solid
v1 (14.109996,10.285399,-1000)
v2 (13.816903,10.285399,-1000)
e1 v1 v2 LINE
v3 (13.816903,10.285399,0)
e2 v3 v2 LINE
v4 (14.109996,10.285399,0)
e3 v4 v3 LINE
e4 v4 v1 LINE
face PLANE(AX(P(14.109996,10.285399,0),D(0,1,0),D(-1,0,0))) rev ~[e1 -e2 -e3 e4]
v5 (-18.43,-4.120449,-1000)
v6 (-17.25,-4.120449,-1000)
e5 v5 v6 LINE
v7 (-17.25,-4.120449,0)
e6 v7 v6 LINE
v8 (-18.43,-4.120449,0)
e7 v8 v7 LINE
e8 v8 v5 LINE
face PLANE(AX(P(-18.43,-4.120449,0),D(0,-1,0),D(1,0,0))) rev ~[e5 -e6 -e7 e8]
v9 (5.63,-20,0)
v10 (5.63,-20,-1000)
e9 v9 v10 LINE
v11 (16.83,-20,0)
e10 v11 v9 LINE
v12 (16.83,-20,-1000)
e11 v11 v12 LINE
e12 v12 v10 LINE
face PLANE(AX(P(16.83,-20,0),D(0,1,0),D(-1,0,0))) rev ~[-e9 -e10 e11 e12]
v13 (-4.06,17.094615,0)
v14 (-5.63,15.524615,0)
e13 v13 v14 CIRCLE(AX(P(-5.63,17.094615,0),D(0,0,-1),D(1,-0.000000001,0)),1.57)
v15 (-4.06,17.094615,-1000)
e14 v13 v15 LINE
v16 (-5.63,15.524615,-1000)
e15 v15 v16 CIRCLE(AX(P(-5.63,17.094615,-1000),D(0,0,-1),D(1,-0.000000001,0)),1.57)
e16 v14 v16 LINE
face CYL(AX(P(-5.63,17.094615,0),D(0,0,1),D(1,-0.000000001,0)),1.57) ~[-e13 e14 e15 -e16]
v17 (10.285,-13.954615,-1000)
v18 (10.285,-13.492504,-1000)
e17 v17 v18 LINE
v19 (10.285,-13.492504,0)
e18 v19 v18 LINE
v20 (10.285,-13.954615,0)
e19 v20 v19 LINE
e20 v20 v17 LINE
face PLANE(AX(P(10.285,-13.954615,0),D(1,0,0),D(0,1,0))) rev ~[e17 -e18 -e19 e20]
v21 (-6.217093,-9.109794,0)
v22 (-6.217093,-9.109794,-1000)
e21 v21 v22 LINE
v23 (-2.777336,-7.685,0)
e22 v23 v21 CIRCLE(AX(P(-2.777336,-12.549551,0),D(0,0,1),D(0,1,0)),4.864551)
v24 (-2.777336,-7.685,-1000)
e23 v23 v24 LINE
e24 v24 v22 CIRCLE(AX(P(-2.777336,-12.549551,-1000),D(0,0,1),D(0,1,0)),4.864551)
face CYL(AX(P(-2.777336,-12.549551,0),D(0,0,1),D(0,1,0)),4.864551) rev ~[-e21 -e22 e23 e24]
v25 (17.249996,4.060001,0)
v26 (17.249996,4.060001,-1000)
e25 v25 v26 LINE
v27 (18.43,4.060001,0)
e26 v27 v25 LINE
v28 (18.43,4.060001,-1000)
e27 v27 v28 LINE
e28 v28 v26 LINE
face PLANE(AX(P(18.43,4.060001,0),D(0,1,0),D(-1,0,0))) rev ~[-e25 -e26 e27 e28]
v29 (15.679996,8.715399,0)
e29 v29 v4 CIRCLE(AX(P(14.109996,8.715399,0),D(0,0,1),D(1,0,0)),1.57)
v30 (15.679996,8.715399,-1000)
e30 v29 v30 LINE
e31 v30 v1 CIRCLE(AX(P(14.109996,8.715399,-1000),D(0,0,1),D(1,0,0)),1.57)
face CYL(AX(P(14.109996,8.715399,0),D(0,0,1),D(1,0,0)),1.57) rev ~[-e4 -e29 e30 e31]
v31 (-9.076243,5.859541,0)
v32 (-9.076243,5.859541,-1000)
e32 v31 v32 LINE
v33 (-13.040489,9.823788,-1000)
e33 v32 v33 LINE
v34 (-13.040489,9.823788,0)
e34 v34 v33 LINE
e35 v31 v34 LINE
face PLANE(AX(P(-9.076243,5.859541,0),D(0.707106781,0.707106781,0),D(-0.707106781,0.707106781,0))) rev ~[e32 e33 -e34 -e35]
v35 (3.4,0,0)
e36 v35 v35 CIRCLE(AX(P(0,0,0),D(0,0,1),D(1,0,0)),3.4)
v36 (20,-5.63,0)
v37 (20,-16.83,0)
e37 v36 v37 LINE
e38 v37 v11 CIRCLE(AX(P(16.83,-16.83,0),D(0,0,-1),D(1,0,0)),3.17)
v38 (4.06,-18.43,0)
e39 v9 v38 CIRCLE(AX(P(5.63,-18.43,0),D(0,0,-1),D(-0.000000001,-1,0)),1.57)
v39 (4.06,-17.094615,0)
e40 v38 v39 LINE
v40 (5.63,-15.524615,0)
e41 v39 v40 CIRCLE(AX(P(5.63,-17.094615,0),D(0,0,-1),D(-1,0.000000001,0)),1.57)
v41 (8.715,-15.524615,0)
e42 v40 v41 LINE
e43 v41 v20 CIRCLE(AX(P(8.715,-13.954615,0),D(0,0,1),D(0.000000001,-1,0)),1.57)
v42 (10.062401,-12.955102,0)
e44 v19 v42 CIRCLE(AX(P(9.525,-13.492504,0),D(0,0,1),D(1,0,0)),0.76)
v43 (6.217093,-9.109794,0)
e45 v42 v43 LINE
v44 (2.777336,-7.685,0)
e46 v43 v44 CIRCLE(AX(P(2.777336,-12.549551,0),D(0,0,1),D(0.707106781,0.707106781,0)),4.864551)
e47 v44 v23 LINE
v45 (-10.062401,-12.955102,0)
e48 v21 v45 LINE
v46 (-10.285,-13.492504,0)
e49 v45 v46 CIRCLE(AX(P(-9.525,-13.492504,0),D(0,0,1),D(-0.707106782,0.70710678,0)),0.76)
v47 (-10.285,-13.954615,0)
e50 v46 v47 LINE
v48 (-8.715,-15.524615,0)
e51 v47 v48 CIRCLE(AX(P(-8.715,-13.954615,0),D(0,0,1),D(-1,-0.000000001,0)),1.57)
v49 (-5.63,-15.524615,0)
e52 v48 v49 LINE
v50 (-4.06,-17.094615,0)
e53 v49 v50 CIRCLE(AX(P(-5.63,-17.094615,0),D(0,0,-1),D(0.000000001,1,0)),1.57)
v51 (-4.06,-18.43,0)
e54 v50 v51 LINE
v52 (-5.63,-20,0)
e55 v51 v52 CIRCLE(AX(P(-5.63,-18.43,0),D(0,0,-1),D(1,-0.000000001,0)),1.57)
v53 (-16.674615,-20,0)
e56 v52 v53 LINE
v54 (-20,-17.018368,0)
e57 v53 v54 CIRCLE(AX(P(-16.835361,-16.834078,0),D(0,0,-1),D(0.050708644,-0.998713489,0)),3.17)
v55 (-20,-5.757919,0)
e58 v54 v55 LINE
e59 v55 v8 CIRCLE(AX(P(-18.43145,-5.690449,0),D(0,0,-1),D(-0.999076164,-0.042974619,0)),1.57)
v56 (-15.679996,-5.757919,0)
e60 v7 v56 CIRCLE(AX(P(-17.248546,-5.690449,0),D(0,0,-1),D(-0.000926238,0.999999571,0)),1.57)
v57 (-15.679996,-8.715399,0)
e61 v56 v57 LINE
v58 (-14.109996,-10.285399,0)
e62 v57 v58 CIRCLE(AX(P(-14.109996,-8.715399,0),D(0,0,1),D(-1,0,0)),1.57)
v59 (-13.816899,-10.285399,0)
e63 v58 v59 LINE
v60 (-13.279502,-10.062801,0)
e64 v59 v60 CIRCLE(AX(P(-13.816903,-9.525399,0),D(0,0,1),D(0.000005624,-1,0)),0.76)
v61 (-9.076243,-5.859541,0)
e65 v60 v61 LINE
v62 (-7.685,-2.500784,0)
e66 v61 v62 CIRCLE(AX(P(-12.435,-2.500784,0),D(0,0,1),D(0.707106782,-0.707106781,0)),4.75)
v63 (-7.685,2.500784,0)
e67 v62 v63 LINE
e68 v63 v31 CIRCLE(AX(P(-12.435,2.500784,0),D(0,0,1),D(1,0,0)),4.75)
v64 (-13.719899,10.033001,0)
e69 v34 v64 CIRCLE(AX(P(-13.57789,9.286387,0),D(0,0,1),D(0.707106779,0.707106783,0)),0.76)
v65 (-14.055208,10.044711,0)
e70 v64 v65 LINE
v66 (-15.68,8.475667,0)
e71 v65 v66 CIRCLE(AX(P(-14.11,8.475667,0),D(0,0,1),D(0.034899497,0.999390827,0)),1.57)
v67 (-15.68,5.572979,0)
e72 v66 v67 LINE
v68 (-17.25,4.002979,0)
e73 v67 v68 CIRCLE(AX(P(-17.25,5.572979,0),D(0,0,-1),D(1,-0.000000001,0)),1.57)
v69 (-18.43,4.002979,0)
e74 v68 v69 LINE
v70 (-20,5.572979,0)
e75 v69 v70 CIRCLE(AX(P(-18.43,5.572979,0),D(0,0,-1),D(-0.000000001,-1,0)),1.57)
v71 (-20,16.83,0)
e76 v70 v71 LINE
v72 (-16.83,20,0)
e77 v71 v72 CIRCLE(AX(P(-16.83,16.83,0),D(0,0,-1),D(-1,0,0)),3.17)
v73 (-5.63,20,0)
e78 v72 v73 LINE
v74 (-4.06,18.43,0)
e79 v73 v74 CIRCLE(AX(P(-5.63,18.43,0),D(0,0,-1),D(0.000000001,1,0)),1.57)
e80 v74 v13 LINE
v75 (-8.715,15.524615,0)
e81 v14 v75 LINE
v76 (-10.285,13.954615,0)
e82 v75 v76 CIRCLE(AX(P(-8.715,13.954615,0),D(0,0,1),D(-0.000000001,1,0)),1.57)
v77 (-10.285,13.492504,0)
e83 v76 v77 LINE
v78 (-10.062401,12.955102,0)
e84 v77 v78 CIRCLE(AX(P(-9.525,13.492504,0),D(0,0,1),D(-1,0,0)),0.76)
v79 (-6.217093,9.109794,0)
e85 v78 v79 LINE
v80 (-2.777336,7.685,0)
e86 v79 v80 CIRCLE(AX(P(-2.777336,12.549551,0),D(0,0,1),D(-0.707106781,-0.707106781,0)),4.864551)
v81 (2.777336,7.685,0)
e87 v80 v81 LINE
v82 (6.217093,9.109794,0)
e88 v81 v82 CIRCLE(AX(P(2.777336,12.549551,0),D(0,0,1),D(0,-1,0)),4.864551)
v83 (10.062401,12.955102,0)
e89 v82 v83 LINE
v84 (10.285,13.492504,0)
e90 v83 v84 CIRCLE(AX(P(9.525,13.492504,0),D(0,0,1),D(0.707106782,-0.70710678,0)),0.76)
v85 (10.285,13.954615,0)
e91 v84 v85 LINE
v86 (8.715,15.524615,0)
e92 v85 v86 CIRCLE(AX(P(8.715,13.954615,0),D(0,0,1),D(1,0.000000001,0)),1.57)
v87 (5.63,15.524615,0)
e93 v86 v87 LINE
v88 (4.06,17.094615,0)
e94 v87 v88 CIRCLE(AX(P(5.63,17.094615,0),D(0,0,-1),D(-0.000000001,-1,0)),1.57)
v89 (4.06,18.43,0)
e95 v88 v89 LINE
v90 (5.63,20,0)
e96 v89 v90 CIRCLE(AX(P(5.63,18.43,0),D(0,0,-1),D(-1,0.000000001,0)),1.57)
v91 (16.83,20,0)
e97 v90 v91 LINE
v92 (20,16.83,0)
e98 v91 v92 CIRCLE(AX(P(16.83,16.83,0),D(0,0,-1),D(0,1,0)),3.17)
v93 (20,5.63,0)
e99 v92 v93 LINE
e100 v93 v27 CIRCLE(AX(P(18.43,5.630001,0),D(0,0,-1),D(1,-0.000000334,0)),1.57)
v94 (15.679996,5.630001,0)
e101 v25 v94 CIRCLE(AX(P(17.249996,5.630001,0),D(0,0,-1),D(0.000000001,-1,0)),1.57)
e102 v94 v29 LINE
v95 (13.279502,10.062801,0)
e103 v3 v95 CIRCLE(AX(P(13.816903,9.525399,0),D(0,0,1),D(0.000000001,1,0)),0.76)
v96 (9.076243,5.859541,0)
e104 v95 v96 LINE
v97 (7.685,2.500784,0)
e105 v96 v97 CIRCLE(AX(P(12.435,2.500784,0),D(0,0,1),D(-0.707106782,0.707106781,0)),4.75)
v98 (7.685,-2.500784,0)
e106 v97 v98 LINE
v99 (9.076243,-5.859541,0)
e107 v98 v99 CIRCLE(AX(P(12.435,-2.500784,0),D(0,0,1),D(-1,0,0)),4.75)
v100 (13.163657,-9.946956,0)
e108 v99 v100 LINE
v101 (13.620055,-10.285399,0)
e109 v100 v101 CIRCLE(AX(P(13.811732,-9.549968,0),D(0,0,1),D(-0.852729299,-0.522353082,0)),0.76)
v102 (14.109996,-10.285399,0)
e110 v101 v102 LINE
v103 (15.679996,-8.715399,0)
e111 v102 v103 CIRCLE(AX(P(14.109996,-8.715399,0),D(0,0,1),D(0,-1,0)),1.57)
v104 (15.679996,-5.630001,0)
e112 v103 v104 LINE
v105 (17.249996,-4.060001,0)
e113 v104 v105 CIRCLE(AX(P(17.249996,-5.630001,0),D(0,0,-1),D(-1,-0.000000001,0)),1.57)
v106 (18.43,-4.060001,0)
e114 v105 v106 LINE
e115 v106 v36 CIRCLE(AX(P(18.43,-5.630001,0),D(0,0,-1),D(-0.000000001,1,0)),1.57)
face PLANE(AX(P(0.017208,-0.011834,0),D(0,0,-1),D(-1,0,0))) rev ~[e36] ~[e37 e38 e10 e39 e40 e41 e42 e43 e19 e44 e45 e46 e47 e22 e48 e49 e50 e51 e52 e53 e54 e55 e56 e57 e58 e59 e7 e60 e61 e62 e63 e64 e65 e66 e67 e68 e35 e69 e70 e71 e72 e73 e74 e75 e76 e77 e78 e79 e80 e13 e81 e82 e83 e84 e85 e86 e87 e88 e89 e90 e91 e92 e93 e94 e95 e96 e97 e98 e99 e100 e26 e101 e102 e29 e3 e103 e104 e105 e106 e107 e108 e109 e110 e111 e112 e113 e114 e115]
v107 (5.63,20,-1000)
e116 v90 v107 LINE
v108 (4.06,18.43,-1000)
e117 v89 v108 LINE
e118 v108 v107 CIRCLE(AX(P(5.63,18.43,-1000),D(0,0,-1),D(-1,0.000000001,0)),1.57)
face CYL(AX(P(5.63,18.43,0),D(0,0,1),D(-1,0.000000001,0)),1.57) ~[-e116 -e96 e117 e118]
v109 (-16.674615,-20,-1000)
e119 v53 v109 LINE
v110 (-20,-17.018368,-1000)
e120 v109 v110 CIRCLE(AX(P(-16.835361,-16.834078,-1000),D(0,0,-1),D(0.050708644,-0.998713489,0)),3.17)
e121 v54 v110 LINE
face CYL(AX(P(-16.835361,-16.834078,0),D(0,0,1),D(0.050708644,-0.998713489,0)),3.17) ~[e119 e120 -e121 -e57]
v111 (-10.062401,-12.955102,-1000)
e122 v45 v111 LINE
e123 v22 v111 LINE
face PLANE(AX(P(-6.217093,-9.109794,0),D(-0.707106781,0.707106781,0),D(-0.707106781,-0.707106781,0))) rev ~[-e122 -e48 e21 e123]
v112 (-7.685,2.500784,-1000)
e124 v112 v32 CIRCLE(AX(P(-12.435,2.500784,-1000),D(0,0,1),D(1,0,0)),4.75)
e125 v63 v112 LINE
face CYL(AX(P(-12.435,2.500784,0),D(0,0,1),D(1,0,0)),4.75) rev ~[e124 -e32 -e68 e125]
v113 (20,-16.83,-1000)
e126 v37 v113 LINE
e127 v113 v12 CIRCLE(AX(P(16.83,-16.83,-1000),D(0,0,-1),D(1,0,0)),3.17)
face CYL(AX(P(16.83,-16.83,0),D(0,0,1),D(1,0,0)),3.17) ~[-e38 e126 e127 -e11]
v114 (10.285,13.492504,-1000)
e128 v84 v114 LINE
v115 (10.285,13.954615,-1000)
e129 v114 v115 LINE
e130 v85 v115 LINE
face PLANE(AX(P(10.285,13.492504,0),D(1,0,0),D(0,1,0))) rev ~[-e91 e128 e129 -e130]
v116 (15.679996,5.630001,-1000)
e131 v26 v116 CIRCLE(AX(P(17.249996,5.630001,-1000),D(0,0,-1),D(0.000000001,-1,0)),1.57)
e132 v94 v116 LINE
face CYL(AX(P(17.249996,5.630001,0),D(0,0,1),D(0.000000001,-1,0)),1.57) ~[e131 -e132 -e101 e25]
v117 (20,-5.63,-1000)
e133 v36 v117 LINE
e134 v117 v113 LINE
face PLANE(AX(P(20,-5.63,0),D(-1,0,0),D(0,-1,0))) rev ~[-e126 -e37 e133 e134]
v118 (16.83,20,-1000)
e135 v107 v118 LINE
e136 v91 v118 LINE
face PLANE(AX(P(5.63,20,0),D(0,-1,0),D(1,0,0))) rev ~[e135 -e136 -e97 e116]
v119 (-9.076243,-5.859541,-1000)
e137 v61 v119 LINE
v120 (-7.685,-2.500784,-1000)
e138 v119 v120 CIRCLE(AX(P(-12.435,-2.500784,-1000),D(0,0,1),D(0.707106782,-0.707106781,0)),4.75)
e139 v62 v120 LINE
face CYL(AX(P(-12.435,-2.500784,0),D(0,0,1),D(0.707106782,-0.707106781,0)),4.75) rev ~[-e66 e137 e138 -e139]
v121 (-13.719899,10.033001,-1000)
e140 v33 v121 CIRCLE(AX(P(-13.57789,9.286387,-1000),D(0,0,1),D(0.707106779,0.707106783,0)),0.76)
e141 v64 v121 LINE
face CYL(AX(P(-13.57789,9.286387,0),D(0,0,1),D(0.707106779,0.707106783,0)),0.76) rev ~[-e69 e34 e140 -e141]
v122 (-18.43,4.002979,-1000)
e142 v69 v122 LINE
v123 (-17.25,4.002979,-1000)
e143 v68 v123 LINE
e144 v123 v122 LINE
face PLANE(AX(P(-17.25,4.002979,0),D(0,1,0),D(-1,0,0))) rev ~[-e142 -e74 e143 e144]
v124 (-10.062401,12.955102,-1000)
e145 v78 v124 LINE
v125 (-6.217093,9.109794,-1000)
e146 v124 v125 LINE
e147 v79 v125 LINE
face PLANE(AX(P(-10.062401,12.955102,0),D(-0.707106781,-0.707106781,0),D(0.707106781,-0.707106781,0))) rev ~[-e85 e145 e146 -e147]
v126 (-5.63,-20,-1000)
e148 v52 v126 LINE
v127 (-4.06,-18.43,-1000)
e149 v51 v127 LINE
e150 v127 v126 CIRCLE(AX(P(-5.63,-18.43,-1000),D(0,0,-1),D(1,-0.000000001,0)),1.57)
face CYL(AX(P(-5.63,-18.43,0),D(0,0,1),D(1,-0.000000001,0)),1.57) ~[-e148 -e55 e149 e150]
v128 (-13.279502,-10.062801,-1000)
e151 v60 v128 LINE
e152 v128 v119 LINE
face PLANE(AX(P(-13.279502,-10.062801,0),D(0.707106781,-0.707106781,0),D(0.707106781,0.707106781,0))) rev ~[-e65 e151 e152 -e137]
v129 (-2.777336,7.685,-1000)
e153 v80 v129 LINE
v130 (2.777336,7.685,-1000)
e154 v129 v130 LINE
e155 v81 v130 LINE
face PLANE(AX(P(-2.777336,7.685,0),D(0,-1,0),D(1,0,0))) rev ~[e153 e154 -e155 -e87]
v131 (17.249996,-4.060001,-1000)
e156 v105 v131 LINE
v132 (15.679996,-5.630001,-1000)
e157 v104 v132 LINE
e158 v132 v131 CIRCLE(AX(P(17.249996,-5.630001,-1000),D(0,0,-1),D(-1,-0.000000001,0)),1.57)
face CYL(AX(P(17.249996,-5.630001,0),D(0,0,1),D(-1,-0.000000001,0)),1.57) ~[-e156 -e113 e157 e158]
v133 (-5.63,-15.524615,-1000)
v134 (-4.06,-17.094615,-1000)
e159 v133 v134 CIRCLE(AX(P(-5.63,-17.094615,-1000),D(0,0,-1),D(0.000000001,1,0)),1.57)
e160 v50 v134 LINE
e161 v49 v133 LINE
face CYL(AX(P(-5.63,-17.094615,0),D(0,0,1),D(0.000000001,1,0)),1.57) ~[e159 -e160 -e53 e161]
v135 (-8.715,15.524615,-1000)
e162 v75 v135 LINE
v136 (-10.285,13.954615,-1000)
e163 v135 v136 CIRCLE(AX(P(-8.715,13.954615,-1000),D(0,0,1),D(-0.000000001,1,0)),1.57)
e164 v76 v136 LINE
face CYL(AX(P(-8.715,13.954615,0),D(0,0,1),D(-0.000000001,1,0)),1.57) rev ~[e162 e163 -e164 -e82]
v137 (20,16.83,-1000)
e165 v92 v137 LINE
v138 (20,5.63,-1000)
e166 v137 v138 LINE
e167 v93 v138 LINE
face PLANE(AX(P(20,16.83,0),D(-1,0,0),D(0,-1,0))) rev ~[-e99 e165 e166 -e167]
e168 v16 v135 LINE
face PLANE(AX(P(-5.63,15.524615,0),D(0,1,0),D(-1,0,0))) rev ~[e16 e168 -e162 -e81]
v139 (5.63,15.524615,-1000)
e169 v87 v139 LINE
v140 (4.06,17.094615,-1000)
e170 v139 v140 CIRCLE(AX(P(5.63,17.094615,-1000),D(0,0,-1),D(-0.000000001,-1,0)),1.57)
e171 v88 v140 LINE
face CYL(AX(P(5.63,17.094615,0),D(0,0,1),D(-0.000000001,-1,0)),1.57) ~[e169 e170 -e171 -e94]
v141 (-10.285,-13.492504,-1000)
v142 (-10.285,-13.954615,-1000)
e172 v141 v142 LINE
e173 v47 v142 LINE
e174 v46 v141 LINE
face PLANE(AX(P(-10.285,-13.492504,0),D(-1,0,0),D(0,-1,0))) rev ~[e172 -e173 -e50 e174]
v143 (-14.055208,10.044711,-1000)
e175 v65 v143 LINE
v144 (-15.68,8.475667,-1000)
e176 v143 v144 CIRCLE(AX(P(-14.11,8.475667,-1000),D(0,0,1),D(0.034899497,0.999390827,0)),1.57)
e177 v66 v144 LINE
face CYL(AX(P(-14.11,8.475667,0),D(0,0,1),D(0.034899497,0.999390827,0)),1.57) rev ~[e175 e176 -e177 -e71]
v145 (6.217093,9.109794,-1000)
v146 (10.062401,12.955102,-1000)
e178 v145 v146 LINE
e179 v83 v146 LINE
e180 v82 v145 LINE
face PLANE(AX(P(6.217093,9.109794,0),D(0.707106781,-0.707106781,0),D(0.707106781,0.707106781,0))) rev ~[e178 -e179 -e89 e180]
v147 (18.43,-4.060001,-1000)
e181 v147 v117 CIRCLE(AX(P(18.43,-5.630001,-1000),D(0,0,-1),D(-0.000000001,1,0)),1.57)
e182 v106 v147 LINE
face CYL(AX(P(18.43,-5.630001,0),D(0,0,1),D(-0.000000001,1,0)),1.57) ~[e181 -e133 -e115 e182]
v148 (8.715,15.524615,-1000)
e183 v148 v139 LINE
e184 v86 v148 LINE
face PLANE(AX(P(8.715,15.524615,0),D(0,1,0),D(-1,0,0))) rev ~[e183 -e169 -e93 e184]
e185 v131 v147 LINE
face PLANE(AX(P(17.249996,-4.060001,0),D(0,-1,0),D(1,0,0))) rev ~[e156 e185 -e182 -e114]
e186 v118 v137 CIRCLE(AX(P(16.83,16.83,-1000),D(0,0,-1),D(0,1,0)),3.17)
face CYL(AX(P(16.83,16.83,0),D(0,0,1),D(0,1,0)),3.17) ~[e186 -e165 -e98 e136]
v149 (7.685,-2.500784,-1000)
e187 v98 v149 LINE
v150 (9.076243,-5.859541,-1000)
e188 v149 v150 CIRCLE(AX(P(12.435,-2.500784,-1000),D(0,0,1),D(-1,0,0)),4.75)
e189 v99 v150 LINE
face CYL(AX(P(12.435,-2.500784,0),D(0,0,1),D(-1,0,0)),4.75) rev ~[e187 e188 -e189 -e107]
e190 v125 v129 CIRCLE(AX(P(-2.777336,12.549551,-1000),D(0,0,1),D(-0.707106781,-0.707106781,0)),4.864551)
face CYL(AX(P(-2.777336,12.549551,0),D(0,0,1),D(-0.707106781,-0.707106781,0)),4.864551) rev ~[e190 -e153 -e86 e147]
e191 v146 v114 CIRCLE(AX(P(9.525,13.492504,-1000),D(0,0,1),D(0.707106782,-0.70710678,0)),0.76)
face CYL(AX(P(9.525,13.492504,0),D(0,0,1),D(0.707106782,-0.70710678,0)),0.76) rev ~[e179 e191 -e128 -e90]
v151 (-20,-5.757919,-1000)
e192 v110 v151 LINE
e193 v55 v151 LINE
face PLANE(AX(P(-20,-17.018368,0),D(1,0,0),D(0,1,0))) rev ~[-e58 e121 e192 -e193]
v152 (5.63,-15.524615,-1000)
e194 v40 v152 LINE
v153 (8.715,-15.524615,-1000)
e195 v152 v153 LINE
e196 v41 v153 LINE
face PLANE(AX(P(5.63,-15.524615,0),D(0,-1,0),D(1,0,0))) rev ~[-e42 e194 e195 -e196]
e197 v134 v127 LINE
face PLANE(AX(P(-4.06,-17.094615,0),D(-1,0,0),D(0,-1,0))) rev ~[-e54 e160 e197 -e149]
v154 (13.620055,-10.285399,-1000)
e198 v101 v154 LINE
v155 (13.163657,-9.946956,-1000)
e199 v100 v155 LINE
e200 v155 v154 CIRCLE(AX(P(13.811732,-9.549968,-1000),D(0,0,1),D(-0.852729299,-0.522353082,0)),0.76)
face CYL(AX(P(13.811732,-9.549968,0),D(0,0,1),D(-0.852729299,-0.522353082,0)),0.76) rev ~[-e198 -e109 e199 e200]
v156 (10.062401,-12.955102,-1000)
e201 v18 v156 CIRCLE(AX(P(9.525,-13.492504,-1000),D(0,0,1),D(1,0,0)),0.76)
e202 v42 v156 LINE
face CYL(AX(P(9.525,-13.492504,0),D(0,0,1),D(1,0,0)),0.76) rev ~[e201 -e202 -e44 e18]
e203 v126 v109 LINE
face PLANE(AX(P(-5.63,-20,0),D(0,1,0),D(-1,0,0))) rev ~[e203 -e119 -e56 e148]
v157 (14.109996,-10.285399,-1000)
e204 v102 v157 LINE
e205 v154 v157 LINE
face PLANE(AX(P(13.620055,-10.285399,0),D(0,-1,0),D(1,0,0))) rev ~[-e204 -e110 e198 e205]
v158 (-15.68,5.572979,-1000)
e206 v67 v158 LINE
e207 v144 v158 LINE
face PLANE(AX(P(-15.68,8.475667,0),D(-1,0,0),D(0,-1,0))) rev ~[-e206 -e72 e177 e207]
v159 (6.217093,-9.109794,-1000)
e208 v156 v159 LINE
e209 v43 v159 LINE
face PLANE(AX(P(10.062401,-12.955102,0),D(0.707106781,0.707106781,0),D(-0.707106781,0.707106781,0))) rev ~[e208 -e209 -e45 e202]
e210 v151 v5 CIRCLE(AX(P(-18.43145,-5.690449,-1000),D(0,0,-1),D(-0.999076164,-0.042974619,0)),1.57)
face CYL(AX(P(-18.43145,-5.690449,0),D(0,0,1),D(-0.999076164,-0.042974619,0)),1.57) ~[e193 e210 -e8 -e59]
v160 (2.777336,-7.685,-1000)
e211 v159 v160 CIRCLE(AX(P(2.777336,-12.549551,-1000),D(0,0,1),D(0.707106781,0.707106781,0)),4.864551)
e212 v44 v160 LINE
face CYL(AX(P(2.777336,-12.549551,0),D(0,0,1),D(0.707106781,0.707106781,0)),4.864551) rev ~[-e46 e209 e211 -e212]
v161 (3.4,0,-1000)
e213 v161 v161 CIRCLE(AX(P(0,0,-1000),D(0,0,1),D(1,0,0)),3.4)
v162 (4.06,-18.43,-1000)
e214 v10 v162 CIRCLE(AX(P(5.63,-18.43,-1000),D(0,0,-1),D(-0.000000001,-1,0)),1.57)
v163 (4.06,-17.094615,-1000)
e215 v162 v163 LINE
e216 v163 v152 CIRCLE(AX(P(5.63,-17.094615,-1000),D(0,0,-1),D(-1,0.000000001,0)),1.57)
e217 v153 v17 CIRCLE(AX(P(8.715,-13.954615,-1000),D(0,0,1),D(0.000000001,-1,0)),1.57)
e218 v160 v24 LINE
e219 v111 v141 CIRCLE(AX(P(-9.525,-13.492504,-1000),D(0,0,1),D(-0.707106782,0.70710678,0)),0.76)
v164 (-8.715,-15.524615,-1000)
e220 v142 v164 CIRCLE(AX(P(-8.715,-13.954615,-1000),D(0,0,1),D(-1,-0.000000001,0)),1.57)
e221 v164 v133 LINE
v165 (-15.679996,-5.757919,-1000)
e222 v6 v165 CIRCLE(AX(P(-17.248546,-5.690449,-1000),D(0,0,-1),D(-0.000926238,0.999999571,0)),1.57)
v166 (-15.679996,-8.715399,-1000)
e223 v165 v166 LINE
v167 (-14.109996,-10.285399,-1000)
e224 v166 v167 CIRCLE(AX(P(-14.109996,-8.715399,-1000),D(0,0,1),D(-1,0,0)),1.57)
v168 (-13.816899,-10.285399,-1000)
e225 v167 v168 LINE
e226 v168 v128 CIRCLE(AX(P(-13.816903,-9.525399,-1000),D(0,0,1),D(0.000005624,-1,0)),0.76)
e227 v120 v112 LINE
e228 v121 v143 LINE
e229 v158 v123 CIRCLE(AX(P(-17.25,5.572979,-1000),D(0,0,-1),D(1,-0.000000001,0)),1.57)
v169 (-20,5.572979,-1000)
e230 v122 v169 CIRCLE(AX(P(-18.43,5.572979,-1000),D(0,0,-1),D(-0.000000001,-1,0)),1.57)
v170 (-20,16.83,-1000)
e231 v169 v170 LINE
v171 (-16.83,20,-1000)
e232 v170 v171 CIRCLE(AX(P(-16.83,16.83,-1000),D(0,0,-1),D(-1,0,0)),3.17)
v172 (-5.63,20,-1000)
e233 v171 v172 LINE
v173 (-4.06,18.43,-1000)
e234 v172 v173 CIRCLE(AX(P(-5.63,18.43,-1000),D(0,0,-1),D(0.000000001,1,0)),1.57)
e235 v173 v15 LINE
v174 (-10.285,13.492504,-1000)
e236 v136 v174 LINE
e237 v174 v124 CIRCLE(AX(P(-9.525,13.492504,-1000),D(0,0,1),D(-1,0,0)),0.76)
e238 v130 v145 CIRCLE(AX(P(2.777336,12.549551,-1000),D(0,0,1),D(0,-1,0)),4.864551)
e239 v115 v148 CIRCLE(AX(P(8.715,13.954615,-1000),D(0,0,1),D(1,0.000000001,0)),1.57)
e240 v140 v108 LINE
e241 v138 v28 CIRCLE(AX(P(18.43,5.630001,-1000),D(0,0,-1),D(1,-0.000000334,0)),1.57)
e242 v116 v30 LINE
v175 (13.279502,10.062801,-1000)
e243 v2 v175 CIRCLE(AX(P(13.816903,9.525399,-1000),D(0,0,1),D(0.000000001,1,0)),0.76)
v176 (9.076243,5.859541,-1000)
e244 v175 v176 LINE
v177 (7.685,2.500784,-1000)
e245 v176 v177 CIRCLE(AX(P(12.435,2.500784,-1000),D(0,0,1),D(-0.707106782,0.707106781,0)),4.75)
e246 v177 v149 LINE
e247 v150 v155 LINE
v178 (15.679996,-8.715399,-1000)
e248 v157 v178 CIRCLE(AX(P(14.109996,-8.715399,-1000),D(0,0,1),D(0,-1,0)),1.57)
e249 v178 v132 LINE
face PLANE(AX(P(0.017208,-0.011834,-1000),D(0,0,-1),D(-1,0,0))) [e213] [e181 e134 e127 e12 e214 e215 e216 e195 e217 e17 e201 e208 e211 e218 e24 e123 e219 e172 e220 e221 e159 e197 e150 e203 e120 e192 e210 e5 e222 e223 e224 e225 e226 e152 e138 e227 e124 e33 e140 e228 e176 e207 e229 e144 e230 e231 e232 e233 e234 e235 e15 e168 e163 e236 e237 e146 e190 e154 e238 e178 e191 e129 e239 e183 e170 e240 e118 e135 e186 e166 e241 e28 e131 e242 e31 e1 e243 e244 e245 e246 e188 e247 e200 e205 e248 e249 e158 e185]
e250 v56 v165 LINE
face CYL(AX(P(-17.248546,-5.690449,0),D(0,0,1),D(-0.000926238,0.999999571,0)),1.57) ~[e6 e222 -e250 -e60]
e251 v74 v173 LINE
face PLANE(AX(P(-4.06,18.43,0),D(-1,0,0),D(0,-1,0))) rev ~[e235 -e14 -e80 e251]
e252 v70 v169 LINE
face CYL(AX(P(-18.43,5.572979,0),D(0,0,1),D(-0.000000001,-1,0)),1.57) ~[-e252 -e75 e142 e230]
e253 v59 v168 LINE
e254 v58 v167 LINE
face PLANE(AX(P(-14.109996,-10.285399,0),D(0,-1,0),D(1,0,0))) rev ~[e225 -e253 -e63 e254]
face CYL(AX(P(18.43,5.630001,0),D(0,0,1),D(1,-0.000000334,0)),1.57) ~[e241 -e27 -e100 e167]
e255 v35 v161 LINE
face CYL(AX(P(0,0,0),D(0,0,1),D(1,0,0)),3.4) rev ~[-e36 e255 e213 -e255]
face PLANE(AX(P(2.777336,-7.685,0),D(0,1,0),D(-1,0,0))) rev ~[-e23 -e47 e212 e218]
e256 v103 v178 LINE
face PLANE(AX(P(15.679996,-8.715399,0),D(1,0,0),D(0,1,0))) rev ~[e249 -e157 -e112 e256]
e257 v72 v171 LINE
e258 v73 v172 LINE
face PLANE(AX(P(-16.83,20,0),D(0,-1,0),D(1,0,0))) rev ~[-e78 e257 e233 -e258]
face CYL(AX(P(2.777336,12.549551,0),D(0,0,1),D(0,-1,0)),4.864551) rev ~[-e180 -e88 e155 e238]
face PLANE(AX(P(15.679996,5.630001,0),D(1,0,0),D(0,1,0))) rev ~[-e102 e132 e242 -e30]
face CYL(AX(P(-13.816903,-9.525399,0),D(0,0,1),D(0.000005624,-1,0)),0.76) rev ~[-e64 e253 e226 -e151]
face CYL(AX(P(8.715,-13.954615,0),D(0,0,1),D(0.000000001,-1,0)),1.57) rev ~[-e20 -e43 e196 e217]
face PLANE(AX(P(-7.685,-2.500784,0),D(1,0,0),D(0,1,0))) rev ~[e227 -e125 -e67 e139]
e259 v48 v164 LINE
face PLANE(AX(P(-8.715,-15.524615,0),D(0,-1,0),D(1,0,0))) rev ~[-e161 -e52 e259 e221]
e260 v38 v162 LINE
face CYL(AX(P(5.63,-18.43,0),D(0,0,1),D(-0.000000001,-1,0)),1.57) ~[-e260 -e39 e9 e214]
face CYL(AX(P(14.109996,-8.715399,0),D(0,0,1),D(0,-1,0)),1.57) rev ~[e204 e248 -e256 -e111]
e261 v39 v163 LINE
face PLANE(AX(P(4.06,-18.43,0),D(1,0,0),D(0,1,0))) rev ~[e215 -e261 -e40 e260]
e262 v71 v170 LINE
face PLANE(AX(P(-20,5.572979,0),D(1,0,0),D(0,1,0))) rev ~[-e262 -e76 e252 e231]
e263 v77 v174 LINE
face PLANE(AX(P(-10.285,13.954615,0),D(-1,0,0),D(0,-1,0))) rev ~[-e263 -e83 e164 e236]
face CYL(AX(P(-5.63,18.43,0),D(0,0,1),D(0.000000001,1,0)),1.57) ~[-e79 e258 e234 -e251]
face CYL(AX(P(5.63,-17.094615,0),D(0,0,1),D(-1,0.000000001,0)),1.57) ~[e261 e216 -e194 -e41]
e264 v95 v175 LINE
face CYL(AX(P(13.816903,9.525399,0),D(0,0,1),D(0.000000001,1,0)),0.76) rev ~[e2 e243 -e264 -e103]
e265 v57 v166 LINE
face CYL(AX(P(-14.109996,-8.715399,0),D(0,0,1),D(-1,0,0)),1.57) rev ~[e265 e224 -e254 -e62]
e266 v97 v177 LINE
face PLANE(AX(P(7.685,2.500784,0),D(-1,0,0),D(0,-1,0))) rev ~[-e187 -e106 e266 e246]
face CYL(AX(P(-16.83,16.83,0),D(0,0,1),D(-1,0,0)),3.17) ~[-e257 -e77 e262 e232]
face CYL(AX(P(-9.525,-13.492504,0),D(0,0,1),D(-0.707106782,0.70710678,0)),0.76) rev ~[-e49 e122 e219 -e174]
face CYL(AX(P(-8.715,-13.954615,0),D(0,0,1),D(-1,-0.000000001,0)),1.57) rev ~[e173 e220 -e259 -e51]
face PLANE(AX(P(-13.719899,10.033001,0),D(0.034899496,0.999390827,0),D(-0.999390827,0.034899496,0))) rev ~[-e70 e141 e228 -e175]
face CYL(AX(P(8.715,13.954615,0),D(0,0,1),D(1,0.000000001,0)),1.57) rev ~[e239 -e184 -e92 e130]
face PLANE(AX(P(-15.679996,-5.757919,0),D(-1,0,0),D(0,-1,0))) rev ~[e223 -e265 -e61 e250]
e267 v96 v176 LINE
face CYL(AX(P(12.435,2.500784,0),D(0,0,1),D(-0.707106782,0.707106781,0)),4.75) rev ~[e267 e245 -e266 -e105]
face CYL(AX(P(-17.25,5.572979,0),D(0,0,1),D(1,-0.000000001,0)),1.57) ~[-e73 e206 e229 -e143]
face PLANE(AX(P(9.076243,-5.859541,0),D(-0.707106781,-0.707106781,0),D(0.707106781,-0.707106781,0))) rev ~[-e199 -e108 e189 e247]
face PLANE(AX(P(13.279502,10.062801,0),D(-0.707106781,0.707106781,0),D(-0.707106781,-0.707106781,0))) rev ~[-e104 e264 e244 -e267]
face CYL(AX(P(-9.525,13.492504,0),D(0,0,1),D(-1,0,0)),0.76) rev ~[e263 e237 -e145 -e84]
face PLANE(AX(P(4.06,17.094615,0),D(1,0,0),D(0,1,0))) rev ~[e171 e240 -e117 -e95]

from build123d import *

# Parameters (mm, degrees)
SKETCH1_R      = 3.4
EXTRUDE1_DEPTH = 1000


with BuildPart() as part:
    # Sketch1 → Extrude1 (new body)
    with BuildSketch(Plane.XY):
        with BuildLine():
            Line((-8.715, -15.524615034), (-5.63, -15.524615034))
            ThreePointArc((-5.63, -15.524615034), (-4.519842354, -15.984457388), (-4.06, -17.094615034))
            Line((-4.06, -17.094615034), (-4.06, -18.43))
            ThreePointArc((-4.06, -18.43), (-4.519842354, -19.540157646), (-5.63, -20))
            Line((-5.63, -20), (-16.674615034, -20))
            ThreePointArc((-16.674615034, -20), (-18.951578385, -19.194274381), (-20, -17.018368134))
            Line((-20, -17.018368134), (-20, -5.757918808))
            ThreePointArc((-20, -5.757918808), (-19.564709668, -4.603883664), (-18.43, -4.120449326))
            Line((-18.43, -4.120449326), (-17.25, -4.120449326))
            ThreePointArc((-17.25, -4.120449326), (-16.115287682, -4.60388249), (-15.67999625, -5.757919334))
            Line((-15.67999625, -5.757919334), (-15.67999625, -8.715399492))
            ThreePointArc((-15.67999625, -8.715399492), (-15.220153896, -9.825557139), (-14.10999625, -10.285399492))
            Line((-14.10999625, -10.285399492), (-13.816898819, -10.285399492))
            ThreePointArc((-13.816898819, -10.285399492), (-13.526061711, -10.227547119), (-13.279501941, -10.062800646))
            Line((-13.279501941, -10.062800646), (-9.076242789, -5.859541495))
            ThreePointArc((-9.076242789, -5.859541495), (-8.046572221, -4.318530588), (-7.685, -2.500784284))
            Line((-7.685, -2.500784284), (-7.685, 2.500784284))
            ThreePointArc((-7.685, 2.500784284), (-8.046572221, 4.318530588), (-9.076242789, 5.859541495))
            Line((-9.076242789, 5.859541495), (-13.040489136, 9.823787841))
            ThreePointArc((-13.040489136, 9.823787841), (-13.354224618, 10.012729352), (-13.71989919, 10.033001362))
            Line((-13.71989919, 10.033001362), (-14.05520779, 10.044710596))
            ThreePointArc((-14.05520779, 10.044710596), (-15.200613642, 9.605030484), (-15.68, 8.475666998))
            Line((-15.68, 8.475666998), (-15.68, 5.572979049))
            ThreePointArc((-15.68, 5.572979049), (-16.139842354, 4.462821403), (-17.25, 4.002979049))
            Line((-17.25, 4.002979049), (-18.43, 4.002979049))
            ThreePointArc((-18.43, 4.002979049), (-19.540157646, 4.462821403), (-20, 5.572979049))
            Line((-20, 5.572979049), (-20, 13.004526564))
            Line((-20, 13.004526564), (-20, 16.83))
            ThreePointArc((-20, 16.83), (-19.071528496, 19.071528496), (-16.83, 20))
            Line((-16.83, 20), (-5.63, 20))
            ThreePointArc((-5.63, 20), (-4.519842354, 19.540157646), (-4.06, 18.43))
            Line((-4.06, 18.43), (-4.06, 17.094615034))
            ThreePointArc((-4.06, 17.094615034), (-4.519842354, 15.984457388), (-5.63, 15.524615034))
            Line((-5.63, 15.524615034), (-8.715, 15.524615034))
            ThreePointArc((-8.715, 15.524615034), (-9.825157646, 15.06477268), (-10.285, 13.954615034))
            Line((-10.285, 13.954615034), (-10.285, 13.492503602))
            ThreePointArc((-10.285, 13.492503602), (-10.227148445, 13.201664194), (-10.062401154, 12.955102448))
            Line((-10.062401154, 12.955102448), (-6.217092793, 9.109794088))
            ThreePointArc((-6.217092793, 9.109794088), (-4.63891877, 8.055291919), (-2.777335583, 7.685))
            Line((-2.777335583, 7.685), (2.777335583, 7.685))
            ThreePointArc((2.777335583, 7.685), (4.63891877, 8.055291919), (6.217092793, 9.109794088))
            Line((6.217092793, 9.109794088), (10.062401154, 12.955102448))
            ThreePointArc((10.062401154, 12.955102448), (10.227148445, 13.201664194), (10.285, 13.492503602))
            Line((10.285, 13.492503602), (10.285, 13.954615034))
            ThreePointArc((10.285, 13.954615034), (9.825157646, 15.06477268), (8.715, 15.524615034))
            Line((8.715, 15.524615034), (5.63, 15.524615034))
            ThreePointArc((5.63, 15.524615034), (4.519842354, 15.984457388), (4.06, 17.094615034))
            Line((4.06, 17.094615034), (4.06, 18.43))
            ThreePointArc((4.06, 18.43), (4.519842354, 19.540157646), (5.63, 20))
            Line((5.63, 20), (12.979635074, 20))
            Line((12.979635074, 20), (16.83, 20))
            ThreePointArc((16.83, 20), (19.071528496, 19.071528496), (20, 16.83))
            Line((20, 16.83), (20, 13.001098436))
            Line((20, 13.001098436), (20, 5.63))
            ThreePointArc((20, 5.63), (19.540157461, 4.519842693), (18.43, 4.060000526))
            Line((18.43, 4.060000526), (17.24999625, 4.060000526))
            ThreePointArc((17.24999625, 4.060000526), (16.139838603, 4.519842879), (15.67999625, 5.630000526))
            Line((15.67999625, 5.630000526), (15.67999625, 8.715399492))
            ThreePointArc((15.67999625, 8.715399492), (15.220153896, 9.825557139), (14.10999625, 10.285399492))
            Line((14.10999625, 10.285399492), (13.816903094, 10.285399492))
            ThreePointArc((13.816903094, 10.285399492), (13.526063686, 10.227547937), (13.279501941, 10.062800646))
            Line((13.279501941, 10.062800646), (9.076242789, 5.859541495))
            ThreePointArc((9.076242789, 5.859541495), (8.046572221, 4.318530588), (7.685, 2.500784284))
            Line((7.685, 2.500784284), (7.685, -2.500784284))
            ThreePointArc((7.685, -2.500784284), (8.046572221, -4.318530588), (9.076242789, -5.859541495))
            Line((9.076242789, -5.859541495), (13.163657296, -9.946956002))
            ThreePointArc((13.163657296, -9.946956002), (13.35903797, -10.160433474), (13.6200547, -10.285399492))
            Line((13.6200547, -10.285399492), (14.10999625, -10.285399492))
            ThreePointArc((14.10999625, -10.285399492), (15.220153896, -9.825557139), (15.67999625, -8.715399492))
            Line((15.67999625, -8.715399492), (15.67999625, -5.630000526))
            ThreePointArc((15.67999625, -5.630000526), (16.139838603, -4.519842879), (17.24999625, -4.060000526))
            Line((17.24999625, -4.060000526), (18.43, -4.060000526))
            ThreePointArc((18.43, -4.060000526), (19.540157461, -4.519842693), (20, -5.63))
            Line((20, -5.63), (20, -16.83))
            ThreePointArc((20, -16.83), (19.071528496, -19.071528496), (16.83, -20))
            Line((16.83, -20), (13, -20))
            Line((13, -20), (5.63, -20))
            ThreePointArc((5.63, -20), (4.519842354, -19.540157646), (4.06, -18.43))
            Line((4.06, -18.43), (4.06, -17.094615034))
            ThreePointArc((4.06, -17.094615034), (4.519842354, -15.984457388), (5.63, -15.524615034))
            Line((5.63, -15.524615034), (8.715, -15.524615034))
            ThreePointArc((8.715, -15.524615034), (9.825157646, -15.06477268), (10.285, -13.954615034))
            Line((10.285, -13.954615034), (10.285, -13.492503602))
            ThreePointArc((10.285, -13.492503602), (10.227148445, -13.201664194), (10.062401154, -12.955102448))
            Line((10.062401154, -12.955102448), (6.217092793, -9.109794088))
            ThreePointArc((6.217092793, -9.109794088), (4.63891877, -8.055291919), (2.777335583, -7.685))
            Line((2.777335583, -7.685), (-2.777335583, -7.685))
            ThreePointArc((-2.777335583, -7.685), (-4.63891877, -8.055291919), (-6.217092793, -9.109794088))
            Line((-6.217092793, -9.109794088), (-10.062401154, -12.955102448))
            ThreePointArc((-10.062401154, -12.955102448), (-10.227148445, -13.201664194), (-10.285, -13.492503602))
            Line((-10.285, -13.492503602), (-10.285, -13.954615034))
            ThreePointArc((-10.285, -13.954615034), (-9.825157646, -15.06477268), (-8.715, -15.524615034))
        make_face()
        Circle(SKETCH1_R, mode=Mode.SUBTRACT)
    extrude(amount=-EXTRUDE1_DEPTH)


solid = part.part
